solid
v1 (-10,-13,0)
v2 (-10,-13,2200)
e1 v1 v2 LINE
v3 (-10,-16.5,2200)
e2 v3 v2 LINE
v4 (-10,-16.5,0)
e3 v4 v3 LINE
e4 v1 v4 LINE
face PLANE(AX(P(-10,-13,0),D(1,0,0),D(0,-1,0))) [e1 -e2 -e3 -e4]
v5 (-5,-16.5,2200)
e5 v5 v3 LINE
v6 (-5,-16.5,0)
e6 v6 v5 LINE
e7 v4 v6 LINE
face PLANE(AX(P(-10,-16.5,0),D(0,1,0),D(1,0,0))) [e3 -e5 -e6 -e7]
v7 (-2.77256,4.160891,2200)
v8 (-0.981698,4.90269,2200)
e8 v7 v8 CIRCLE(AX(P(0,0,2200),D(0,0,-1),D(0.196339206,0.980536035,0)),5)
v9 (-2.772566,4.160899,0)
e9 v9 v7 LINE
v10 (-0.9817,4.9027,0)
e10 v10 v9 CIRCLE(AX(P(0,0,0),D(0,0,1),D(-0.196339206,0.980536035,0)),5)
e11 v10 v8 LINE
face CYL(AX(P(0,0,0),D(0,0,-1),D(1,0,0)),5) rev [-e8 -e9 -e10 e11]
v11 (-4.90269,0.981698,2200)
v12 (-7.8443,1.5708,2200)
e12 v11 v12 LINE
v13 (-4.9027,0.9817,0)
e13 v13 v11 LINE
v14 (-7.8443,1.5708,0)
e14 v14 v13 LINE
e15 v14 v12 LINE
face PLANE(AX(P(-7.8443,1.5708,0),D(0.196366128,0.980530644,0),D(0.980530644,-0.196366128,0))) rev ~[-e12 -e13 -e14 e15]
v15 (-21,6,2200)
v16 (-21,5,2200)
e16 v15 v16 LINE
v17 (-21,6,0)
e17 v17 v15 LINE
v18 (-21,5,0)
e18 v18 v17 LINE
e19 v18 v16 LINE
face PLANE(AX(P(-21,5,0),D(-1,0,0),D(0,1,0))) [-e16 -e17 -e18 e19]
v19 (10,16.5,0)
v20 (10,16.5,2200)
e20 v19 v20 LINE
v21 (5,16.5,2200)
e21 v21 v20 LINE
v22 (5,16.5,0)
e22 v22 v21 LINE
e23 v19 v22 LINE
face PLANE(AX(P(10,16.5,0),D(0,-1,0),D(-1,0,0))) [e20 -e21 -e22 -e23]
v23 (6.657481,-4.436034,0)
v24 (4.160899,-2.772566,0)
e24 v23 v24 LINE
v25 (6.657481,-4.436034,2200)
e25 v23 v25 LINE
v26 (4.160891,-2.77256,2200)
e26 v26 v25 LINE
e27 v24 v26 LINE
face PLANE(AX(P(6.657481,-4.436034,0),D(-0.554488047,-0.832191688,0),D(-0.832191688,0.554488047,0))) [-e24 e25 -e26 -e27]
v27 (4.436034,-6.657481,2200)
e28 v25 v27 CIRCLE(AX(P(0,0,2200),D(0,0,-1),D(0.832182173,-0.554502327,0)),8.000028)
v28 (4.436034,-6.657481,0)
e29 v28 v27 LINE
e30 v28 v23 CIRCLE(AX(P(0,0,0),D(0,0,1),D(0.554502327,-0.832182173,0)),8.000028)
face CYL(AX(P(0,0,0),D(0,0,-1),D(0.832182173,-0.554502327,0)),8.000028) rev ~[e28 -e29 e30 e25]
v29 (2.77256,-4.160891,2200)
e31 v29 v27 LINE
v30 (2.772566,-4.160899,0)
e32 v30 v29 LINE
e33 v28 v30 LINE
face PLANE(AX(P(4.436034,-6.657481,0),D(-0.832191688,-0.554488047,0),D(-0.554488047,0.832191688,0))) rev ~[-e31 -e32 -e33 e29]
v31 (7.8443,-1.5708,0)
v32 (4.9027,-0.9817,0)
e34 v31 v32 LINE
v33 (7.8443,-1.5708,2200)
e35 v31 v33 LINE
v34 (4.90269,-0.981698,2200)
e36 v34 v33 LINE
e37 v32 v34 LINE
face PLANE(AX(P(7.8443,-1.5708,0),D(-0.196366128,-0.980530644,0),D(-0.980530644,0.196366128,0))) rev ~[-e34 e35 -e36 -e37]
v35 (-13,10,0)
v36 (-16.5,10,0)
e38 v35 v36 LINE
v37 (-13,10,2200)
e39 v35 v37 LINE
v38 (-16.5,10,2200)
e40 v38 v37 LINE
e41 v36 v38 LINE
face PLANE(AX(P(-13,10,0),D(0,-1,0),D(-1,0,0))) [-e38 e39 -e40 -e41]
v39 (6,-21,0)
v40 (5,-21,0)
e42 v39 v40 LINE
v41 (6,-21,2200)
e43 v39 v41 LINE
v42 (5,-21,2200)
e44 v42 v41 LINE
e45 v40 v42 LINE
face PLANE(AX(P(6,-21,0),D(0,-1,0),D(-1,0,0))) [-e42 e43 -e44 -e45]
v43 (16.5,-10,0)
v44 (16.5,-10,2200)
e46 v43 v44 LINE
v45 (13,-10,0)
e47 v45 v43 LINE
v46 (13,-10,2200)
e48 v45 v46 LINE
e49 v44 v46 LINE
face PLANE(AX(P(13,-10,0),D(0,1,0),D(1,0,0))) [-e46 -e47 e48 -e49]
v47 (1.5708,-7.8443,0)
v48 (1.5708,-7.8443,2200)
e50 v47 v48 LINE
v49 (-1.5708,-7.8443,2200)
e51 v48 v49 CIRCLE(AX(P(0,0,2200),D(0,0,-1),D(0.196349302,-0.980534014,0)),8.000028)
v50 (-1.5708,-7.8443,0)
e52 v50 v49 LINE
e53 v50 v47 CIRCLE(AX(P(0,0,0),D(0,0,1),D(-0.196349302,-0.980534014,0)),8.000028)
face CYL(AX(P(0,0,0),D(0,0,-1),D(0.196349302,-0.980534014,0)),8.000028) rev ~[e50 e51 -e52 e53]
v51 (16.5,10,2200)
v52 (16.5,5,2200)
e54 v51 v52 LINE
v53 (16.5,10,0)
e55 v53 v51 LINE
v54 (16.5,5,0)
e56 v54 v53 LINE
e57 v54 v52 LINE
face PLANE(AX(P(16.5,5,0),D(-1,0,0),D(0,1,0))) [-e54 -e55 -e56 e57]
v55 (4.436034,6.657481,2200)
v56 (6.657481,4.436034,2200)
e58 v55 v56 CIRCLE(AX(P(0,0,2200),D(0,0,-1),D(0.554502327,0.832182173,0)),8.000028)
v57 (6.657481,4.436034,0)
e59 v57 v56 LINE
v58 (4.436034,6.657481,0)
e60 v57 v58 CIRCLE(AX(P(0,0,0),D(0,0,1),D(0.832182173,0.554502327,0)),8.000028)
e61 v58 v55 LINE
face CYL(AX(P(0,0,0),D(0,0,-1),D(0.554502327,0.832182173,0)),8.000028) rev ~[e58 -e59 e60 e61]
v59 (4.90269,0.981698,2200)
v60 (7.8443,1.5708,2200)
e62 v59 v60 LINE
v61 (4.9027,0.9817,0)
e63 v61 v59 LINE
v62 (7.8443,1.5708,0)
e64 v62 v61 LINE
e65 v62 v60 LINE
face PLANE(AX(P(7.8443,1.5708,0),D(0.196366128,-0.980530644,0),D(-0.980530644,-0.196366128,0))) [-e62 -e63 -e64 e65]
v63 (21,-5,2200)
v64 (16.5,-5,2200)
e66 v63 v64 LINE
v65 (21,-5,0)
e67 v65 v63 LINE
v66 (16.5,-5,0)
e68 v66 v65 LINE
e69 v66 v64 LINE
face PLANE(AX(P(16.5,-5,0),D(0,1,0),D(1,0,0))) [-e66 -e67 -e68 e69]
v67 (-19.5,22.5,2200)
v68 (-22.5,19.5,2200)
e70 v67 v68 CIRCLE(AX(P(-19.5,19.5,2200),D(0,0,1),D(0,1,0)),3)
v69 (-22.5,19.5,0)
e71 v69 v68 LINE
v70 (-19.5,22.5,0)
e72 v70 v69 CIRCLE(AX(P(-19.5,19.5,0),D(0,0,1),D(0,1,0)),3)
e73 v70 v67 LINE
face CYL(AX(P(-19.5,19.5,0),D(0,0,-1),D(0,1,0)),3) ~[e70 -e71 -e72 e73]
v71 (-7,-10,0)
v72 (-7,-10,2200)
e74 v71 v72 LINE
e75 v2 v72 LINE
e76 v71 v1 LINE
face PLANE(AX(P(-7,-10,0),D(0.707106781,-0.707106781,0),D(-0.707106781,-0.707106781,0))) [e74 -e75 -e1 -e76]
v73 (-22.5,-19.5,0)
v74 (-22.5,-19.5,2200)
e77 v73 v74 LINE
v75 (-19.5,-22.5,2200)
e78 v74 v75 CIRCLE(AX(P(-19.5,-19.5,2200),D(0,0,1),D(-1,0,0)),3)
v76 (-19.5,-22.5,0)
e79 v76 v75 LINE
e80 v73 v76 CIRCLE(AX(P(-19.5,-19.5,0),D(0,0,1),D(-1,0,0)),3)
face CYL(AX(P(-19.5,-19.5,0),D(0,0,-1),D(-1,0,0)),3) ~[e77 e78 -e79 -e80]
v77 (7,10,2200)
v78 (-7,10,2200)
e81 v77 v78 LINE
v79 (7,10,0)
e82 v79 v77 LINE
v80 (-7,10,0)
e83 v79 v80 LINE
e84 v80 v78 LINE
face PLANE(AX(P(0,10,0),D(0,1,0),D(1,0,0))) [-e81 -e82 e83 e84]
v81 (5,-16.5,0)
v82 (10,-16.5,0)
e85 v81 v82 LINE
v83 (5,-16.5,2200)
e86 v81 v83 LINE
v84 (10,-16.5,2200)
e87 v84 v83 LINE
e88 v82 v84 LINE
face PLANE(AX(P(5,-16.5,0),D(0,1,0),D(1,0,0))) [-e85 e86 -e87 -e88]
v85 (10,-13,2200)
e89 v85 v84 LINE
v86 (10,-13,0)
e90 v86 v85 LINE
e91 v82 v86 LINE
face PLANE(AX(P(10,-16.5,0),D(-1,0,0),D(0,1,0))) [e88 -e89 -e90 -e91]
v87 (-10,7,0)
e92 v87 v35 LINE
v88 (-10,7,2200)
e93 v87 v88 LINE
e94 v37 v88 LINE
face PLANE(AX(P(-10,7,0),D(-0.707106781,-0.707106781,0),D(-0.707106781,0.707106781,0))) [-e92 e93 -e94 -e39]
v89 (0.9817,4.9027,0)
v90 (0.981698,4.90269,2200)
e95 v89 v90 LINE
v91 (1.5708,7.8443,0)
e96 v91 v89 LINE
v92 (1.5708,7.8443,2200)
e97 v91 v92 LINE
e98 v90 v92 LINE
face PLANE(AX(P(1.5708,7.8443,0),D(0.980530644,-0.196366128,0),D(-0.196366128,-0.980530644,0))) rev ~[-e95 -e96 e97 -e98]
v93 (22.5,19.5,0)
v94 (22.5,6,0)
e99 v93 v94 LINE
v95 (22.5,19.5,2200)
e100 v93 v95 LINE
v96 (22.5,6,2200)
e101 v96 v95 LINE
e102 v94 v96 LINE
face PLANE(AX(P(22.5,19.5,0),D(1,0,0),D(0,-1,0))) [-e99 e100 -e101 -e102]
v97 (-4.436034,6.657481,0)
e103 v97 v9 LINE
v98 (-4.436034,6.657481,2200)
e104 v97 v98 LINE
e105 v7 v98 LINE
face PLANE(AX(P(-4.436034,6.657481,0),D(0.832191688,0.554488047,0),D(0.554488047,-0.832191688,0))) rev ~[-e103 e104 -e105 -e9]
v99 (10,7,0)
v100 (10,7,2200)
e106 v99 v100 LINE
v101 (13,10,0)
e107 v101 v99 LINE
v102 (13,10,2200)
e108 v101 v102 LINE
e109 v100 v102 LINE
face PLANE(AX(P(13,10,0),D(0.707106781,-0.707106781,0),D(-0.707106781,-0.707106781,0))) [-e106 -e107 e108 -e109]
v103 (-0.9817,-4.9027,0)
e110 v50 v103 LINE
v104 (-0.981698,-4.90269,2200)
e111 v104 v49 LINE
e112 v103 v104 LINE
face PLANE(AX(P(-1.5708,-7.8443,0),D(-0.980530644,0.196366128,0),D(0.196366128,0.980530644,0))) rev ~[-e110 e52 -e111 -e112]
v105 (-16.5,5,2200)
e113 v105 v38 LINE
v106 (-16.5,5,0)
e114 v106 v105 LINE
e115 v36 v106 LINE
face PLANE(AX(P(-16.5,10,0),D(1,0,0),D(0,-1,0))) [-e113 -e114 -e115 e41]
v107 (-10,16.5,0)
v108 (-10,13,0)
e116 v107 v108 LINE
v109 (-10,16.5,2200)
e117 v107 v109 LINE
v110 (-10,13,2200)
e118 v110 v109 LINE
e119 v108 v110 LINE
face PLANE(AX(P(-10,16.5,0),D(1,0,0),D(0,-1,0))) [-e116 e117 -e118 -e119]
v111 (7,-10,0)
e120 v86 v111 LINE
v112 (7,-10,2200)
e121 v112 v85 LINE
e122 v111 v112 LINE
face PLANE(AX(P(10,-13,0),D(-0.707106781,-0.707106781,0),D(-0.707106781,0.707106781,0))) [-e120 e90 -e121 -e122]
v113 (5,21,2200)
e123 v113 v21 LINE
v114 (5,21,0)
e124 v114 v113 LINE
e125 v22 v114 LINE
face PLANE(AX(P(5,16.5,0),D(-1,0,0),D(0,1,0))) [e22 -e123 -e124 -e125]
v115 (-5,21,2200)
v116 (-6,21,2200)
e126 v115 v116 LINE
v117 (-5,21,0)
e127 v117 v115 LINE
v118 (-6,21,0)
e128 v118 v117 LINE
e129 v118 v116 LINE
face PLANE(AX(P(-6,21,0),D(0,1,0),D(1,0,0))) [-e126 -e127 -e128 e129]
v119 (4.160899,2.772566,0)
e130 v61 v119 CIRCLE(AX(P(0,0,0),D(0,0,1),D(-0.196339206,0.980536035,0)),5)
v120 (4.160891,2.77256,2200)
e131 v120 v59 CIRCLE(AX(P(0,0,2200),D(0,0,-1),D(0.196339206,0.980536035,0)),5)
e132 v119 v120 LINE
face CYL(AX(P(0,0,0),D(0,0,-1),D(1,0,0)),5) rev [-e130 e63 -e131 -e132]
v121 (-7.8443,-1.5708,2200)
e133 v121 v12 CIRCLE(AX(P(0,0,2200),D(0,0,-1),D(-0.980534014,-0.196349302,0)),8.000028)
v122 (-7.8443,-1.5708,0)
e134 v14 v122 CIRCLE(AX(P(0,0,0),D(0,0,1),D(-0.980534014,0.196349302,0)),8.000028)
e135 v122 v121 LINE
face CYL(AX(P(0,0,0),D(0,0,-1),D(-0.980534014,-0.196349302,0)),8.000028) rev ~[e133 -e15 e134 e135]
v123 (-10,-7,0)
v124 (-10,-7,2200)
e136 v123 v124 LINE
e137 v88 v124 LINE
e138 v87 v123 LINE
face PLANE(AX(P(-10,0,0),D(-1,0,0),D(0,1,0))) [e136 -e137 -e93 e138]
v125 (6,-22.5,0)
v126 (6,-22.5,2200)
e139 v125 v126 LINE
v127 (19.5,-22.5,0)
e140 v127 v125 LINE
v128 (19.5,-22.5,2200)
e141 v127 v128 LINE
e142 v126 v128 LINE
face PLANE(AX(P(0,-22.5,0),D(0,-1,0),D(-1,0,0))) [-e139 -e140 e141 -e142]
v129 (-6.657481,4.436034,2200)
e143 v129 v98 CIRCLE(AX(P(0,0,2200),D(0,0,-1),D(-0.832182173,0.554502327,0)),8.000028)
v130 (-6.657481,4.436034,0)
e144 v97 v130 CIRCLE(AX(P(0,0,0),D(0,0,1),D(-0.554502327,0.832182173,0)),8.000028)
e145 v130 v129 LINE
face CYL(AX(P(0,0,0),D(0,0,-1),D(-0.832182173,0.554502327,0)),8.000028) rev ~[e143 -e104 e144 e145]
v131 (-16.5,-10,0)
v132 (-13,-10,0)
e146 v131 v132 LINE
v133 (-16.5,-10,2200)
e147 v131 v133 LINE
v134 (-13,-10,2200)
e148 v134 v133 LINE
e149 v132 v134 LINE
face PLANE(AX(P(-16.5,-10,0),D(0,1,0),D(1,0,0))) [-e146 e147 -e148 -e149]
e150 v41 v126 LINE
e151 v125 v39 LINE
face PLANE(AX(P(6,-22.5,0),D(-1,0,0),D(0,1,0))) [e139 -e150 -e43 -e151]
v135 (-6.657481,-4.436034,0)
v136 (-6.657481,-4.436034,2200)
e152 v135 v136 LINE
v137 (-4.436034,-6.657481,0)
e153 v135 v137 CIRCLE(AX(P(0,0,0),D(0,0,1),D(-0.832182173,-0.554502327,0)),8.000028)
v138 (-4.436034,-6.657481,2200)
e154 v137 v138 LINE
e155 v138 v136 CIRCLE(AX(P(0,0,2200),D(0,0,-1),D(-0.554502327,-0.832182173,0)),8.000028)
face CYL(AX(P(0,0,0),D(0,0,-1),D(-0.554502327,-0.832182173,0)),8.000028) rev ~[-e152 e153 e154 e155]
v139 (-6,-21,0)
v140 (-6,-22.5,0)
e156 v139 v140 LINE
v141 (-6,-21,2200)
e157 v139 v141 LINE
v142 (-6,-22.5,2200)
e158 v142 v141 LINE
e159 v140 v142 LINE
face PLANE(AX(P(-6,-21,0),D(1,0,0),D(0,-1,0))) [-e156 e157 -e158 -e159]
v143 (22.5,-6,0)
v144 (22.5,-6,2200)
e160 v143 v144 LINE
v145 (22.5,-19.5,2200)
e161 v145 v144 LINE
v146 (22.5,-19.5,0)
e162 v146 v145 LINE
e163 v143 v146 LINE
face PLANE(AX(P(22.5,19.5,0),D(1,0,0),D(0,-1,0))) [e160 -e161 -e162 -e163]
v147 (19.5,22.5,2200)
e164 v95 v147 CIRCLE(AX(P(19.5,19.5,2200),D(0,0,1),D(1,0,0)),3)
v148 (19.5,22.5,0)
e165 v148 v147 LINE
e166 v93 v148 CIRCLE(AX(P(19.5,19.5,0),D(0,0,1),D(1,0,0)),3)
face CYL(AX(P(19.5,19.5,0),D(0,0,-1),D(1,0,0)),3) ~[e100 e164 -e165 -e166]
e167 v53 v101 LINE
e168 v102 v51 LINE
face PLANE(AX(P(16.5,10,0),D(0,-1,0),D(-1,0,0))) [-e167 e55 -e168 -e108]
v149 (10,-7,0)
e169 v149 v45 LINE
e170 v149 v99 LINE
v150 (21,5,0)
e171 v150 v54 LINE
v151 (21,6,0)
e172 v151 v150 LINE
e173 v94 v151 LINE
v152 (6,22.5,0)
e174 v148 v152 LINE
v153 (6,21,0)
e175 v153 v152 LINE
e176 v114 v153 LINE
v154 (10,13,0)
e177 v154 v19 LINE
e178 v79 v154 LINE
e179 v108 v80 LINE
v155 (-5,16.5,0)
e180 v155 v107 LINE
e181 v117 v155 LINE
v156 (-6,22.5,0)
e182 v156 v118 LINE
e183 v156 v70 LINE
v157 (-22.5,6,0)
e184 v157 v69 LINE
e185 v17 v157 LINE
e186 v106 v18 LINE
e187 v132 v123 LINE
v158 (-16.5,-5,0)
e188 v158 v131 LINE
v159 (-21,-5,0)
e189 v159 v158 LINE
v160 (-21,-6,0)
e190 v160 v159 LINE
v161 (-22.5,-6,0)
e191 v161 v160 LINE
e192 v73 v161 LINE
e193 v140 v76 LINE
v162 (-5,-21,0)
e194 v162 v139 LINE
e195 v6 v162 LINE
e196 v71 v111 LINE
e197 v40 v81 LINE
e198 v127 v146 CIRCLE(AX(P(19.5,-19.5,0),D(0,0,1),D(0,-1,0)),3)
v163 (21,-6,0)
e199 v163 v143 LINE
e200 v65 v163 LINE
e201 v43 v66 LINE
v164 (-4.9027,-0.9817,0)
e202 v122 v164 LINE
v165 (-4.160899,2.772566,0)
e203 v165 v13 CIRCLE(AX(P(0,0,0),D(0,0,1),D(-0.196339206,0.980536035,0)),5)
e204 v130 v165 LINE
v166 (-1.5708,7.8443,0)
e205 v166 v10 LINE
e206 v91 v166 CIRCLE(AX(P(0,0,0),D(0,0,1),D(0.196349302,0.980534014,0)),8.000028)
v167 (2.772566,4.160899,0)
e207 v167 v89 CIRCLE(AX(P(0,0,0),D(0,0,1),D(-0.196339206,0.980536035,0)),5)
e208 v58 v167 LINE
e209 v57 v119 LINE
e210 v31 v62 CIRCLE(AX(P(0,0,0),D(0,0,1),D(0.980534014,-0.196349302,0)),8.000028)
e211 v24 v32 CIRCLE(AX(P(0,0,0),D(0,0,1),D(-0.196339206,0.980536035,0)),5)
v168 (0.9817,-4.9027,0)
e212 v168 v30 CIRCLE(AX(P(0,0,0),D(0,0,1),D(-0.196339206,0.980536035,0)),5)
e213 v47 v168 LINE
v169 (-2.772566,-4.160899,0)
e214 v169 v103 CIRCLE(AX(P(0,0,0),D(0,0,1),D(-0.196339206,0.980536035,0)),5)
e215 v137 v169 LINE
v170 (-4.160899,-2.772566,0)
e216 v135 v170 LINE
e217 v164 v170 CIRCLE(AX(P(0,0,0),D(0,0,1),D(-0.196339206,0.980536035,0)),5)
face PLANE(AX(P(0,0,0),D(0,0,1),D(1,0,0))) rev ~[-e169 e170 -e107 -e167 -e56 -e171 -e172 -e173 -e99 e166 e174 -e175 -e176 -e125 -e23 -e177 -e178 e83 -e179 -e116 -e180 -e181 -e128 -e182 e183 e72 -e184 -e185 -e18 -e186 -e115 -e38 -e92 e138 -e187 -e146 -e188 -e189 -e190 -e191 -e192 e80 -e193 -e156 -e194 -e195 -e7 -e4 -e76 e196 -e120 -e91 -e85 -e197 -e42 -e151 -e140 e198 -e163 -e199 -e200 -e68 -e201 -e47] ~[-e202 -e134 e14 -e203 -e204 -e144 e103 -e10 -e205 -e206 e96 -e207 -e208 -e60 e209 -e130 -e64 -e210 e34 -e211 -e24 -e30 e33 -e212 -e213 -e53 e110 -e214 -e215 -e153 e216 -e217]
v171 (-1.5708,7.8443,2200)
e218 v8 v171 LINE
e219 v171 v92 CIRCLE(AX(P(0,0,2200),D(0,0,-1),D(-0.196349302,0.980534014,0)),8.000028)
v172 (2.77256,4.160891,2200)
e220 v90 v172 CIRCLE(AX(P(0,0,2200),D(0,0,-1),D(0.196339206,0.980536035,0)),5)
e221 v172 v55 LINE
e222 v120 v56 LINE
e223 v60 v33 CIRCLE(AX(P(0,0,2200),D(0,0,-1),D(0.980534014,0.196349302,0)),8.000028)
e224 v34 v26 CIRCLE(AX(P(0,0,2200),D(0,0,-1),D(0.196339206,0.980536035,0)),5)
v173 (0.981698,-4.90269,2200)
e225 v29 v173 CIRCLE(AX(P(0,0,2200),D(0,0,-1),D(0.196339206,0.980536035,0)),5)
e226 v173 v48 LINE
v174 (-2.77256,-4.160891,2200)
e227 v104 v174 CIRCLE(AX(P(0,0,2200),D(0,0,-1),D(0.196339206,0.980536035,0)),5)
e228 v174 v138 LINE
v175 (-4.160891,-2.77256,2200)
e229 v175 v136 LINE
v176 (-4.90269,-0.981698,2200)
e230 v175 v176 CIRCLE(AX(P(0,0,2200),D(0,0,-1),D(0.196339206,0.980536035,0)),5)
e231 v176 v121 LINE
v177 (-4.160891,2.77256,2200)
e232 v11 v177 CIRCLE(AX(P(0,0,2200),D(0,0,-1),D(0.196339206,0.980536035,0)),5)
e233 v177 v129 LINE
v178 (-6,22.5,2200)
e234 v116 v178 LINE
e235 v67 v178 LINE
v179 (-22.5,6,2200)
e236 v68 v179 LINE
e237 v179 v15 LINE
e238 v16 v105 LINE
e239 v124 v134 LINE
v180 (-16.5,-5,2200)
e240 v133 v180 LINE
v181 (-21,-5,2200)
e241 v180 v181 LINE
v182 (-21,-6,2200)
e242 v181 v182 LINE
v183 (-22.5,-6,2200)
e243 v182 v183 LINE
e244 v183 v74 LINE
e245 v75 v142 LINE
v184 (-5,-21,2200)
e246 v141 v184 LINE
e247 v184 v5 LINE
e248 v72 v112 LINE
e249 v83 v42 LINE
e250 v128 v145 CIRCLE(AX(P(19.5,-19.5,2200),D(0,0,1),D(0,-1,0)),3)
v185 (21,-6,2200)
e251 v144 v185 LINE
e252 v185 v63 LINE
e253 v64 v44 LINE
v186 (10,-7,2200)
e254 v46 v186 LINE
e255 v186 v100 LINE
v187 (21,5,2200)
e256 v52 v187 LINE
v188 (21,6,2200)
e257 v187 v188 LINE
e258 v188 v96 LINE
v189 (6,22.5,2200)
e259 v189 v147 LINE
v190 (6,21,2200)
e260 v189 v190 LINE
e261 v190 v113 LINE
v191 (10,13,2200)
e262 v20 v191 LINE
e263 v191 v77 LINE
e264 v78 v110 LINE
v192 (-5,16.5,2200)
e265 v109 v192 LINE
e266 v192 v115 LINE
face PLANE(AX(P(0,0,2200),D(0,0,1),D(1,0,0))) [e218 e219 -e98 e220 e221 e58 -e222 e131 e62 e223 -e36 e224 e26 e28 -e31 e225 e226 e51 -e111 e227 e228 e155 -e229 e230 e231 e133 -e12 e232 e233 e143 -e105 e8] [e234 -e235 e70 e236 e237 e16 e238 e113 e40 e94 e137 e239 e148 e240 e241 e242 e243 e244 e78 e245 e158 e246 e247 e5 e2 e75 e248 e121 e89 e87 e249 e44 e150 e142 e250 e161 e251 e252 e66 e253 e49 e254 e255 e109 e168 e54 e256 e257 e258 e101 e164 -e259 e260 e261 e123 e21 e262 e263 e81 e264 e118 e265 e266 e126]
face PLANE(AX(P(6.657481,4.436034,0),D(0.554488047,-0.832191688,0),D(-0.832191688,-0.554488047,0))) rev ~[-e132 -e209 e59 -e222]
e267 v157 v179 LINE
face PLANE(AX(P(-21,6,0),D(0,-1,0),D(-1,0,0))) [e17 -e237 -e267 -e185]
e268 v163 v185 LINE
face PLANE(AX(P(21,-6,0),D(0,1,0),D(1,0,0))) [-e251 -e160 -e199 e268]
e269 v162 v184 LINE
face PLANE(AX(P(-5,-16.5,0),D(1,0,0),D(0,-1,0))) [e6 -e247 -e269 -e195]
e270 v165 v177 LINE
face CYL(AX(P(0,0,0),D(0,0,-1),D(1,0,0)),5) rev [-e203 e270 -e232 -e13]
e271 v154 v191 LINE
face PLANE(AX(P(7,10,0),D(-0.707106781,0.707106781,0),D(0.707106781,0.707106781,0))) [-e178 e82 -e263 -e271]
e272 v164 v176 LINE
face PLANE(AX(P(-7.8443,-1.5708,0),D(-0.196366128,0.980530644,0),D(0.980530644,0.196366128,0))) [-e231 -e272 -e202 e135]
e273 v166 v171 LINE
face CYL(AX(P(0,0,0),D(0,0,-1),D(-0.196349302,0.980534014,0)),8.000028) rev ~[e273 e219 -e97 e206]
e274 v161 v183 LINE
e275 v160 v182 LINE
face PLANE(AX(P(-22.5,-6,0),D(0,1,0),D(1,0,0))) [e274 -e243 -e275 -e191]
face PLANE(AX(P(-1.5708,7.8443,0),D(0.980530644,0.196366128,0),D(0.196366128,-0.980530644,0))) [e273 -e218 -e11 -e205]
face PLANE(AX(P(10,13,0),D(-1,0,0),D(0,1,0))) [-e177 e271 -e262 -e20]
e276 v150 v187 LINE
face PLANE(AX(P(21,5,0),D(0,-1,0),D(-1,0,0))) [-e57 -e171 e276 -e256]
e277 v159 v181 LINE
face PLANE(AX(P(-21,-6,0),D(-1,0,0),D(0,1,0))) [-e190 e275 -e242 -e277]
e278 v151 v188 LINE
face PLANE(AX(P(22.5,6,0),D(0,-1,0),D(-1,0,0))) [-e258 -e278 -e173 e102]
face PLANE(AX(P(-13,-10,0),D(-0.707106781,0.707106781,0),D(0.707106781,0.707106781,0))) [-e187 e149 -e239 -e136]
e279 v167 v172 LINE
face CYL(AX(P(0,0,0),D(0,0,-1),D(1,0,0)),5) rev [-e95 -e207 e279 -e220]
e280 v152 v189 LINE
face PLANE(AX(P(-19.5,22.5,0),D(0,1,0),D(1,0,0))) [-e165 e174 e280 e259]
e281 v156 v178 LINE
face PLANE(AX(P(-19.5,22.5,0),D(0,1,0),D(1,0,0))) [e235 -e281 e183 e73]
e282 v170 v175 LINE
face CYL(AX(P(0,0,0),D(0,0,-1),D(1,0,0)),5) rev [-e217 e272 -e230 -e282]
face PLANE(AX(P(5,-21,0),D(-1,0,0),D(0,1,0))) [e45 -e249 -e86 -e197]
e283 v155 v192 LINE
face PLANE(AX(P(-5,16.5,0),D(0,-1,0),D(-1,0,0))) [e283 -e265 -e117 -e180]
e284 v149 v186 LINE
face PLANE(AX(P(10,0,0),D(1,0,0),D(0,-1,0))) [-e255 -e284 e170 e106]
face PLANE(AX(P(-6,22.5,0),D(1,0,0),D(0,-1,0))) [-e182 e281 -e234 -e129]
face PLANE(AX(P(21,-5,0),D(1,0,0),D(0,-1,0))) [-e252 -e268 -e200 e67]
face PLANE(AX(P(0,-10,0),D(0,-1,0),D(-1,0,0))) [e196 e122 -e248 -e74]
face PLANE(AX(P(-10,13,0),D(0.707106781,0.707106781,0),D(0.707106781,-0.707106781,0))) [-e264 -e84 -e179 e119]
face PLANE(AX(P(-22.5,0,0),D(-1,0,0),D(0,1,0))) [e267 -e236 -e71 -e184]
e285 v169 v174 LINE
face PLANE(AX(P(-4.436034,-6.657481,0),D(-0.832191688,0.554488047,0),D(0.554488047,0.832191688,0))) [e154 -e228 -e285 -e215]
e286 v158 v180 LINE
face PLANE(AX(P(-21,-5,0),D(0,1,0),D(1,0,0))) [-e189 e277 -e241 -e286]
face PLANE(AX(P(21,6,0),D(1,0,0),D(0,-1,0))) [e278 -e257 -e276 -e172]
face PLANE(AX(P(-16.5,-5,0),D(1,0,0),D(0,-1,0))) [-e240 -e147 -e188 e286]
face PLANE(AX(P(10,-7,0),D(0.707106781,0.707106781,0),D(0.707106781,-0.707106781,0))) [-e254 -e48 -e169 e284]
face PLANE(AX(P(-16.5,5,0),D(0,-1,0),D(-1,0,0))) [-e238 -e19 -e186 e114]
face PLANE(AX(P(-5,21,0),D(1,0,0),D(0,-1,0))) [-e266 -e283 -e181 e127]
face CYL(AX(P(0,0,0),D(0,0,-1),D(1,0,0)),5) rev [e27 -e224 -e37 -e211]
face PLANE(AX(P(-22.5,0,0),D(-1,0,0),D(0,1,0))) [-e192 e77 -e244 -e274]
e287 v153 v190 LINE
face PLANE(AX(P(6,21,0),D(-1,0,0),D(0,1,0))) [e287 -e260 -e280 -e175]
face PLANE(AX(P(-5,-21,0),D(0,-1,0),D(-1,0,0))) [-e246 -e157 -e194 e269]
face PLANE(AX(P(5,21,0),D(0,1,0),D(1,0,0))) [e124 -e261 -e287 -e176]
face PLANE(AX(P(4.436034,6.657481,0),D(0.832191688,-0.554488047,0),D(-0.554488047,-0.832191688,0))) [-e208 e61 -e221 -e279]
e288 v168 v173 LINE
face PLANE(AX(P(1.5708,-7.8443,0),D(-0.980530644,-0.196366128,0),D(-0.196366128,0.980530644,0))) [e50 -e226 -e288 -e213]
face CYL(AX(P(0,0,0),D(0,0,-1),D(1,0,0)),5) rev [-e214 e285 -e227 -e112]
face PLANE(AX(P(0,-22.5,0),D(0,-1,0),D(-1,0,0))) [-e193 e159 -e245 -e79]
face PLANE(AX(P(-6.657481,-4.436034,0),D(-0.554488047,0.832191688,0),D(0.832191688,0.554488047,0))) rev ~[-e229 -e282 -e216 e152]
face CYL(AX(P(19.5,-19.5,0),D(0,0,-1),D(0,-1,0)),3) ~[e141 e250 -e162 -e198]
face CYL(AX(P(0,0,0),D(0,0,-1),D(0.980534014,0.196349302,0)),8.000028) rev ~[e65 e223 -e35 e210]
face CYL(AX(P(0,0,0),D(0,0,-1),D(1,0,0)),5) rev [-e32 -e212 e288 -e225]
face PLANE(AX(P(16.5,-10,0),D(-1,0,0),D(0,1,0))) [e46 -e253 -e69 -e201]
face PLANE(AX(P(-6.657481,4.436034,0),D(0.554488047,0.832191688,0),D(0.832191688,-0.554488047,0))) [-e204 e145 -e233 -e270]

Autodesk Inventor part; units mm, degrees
ref_plane "YZ Plane" through (0, 0, 0) normal (1, 0, 0) x (0, 1, 0)
ref_plane "XZ Plane" through (0, 0, 0) normal (0, 1, 0) x (-1, 0, 0)
ref_plane "XY Plane" through (0, 0, 0) normal (0, 0, 1) x (1, 0, 0)
sketch "Skizze1" plane through (0, 0, 0) normal (0, 0, 1) x (1, 0, 0)
  line L0 (-19.5, 22.5) -> (19.5, 22.5)
  line L1 (22.5, 19.5) -> (22.5, -19.5)
  line L2 (19.5, -22.5) -> (-19.5, -22.5)
  line L3 (-22.5, -19.5) -> (-22.5, 19.5)
  circle A0 centre (0, 0) radius 5
  line L4 (-32.3698, 0) -> (32.3698, 0) projected
  line L5 (0, -32.3698) -> (0, 32.3698) projected
  arc A1 (22.5, 19.5) -> (19.5, 22.5) centre (19.5, 19.5) ccw
  arc A2 (-19.5, 22.5) -> (-22.5, 19.5) centre (-19.5, 19.5) ccw
  arc A3 (-22.5, -19.5) -> (-19.5, -22.5) centre (-19.5, -19.5) ccw
  arc A4 (19.5, -22.5) -> (22.5, -19.5) centre (19.5, -19.5) ccw
  point P0 (-22.5, 22.5)
  point P1 (22.5, 22.5)
  point P2 (-22.5, -22.5)
  dimension "d0" = 45
  dimension "d1" = 45
  dimension "d2" = 10
  dimension "d3" = 3
extrude "Extrusion1" add sketch "Skizze1" along normal blind 2200 contours L0 L5 A0 L4 L3 A2 | L0 A1 L1 L4 A0 L5 | L4 A0 L5 L2 A3 L3 | L4 L1 A4 L2 L5 A0
sketch "Skizze2" plane through (0, 0, 0) normal (0, 0, -1) x (-1, 0, 0)
  line L0 (19.5, -22.5) -> (-19.5, -22.5) projected
  line L1 (31.5, 0) -> (-31.5, 0) projected
  line L2 (0, -31.5) -> (0, 31.5) projected
  line L3 (-6, -22.5) -> (-6, -21)
  line L4 (-6, -21) -> (-5, -21)
  line L5 (-5, -21) -> (-5, -16.5)
  line L6 (-5, -16.5) -> (-10, -16.5)
  line L7 (-10, -16.5) -> (-10, -13)
  line L8 (-10, -13) -> (-7, -10)
  line L9 (-7, -10) -> (7, -10)
  line L10 (7, -10) -> (10, -13)
  line L11 (10, -13) -> (10, -16.5)
  line L12 (10, -16.5) -> (5, -16.5)
  line L13 (5, -16.5) -> (5, -21)
  line L14 (5, -21) -> (6, -21)
  line L15 (6, -21) -> (6, -22.5)
  dimension "d6" = 10
  dimension "d7" = 20
  dimension "d8" = 12
  dimension "d9" = 1.5
  dimension "d10" = 12.5
  dimension "d11" = 135
  dimension "d12" = 6
  dimension "d13" = 3.5
extrude "Extrusion2" cut sketch "Skizze2" against normal through all
pattern_circular "Runde Anordnung1" count 4 over 360 about axis through (0, 0, 0) along (0, 0, 1) of "Extrusion2"
sketch "Skizze3" plane through (0, 0, 0) normal (0, 0, -1) x (-1, 0, 0)
  circle A0 centre (0, 0) radius 5 projected
  line L0 (31.5, 0) -> (-31.5, 0) projected
  line L1 (0, -31.5) -> (0, 31.5) projected
  line L2 (-1.5708, 7.8443) -> (-0.9817, 4.9027)
  line L3 (1.5708, 7.8443) -> (0.9817, 4.9027)
  arc A1 (1.5708, 7.8443) -> (-1.5708, 7.8443) centre (0, 0) ccw
  dimension "d20" = 1.9635
  dimension "d21" = 3.1416
  dimension "d22" = 8
extrude "Extrusion3" cut sketch "Skizze3" against normal through all contours A0 L1 A1 L3 | A0 L2 A1 L1
pattern_circular "Runde Anordnung2" count 8 over 360 about axis through (0, 0, 0) along (0, 0, 1) of "Extrusion3"
properties part number "Alu-Profil Nut 10 45x45 2150"
